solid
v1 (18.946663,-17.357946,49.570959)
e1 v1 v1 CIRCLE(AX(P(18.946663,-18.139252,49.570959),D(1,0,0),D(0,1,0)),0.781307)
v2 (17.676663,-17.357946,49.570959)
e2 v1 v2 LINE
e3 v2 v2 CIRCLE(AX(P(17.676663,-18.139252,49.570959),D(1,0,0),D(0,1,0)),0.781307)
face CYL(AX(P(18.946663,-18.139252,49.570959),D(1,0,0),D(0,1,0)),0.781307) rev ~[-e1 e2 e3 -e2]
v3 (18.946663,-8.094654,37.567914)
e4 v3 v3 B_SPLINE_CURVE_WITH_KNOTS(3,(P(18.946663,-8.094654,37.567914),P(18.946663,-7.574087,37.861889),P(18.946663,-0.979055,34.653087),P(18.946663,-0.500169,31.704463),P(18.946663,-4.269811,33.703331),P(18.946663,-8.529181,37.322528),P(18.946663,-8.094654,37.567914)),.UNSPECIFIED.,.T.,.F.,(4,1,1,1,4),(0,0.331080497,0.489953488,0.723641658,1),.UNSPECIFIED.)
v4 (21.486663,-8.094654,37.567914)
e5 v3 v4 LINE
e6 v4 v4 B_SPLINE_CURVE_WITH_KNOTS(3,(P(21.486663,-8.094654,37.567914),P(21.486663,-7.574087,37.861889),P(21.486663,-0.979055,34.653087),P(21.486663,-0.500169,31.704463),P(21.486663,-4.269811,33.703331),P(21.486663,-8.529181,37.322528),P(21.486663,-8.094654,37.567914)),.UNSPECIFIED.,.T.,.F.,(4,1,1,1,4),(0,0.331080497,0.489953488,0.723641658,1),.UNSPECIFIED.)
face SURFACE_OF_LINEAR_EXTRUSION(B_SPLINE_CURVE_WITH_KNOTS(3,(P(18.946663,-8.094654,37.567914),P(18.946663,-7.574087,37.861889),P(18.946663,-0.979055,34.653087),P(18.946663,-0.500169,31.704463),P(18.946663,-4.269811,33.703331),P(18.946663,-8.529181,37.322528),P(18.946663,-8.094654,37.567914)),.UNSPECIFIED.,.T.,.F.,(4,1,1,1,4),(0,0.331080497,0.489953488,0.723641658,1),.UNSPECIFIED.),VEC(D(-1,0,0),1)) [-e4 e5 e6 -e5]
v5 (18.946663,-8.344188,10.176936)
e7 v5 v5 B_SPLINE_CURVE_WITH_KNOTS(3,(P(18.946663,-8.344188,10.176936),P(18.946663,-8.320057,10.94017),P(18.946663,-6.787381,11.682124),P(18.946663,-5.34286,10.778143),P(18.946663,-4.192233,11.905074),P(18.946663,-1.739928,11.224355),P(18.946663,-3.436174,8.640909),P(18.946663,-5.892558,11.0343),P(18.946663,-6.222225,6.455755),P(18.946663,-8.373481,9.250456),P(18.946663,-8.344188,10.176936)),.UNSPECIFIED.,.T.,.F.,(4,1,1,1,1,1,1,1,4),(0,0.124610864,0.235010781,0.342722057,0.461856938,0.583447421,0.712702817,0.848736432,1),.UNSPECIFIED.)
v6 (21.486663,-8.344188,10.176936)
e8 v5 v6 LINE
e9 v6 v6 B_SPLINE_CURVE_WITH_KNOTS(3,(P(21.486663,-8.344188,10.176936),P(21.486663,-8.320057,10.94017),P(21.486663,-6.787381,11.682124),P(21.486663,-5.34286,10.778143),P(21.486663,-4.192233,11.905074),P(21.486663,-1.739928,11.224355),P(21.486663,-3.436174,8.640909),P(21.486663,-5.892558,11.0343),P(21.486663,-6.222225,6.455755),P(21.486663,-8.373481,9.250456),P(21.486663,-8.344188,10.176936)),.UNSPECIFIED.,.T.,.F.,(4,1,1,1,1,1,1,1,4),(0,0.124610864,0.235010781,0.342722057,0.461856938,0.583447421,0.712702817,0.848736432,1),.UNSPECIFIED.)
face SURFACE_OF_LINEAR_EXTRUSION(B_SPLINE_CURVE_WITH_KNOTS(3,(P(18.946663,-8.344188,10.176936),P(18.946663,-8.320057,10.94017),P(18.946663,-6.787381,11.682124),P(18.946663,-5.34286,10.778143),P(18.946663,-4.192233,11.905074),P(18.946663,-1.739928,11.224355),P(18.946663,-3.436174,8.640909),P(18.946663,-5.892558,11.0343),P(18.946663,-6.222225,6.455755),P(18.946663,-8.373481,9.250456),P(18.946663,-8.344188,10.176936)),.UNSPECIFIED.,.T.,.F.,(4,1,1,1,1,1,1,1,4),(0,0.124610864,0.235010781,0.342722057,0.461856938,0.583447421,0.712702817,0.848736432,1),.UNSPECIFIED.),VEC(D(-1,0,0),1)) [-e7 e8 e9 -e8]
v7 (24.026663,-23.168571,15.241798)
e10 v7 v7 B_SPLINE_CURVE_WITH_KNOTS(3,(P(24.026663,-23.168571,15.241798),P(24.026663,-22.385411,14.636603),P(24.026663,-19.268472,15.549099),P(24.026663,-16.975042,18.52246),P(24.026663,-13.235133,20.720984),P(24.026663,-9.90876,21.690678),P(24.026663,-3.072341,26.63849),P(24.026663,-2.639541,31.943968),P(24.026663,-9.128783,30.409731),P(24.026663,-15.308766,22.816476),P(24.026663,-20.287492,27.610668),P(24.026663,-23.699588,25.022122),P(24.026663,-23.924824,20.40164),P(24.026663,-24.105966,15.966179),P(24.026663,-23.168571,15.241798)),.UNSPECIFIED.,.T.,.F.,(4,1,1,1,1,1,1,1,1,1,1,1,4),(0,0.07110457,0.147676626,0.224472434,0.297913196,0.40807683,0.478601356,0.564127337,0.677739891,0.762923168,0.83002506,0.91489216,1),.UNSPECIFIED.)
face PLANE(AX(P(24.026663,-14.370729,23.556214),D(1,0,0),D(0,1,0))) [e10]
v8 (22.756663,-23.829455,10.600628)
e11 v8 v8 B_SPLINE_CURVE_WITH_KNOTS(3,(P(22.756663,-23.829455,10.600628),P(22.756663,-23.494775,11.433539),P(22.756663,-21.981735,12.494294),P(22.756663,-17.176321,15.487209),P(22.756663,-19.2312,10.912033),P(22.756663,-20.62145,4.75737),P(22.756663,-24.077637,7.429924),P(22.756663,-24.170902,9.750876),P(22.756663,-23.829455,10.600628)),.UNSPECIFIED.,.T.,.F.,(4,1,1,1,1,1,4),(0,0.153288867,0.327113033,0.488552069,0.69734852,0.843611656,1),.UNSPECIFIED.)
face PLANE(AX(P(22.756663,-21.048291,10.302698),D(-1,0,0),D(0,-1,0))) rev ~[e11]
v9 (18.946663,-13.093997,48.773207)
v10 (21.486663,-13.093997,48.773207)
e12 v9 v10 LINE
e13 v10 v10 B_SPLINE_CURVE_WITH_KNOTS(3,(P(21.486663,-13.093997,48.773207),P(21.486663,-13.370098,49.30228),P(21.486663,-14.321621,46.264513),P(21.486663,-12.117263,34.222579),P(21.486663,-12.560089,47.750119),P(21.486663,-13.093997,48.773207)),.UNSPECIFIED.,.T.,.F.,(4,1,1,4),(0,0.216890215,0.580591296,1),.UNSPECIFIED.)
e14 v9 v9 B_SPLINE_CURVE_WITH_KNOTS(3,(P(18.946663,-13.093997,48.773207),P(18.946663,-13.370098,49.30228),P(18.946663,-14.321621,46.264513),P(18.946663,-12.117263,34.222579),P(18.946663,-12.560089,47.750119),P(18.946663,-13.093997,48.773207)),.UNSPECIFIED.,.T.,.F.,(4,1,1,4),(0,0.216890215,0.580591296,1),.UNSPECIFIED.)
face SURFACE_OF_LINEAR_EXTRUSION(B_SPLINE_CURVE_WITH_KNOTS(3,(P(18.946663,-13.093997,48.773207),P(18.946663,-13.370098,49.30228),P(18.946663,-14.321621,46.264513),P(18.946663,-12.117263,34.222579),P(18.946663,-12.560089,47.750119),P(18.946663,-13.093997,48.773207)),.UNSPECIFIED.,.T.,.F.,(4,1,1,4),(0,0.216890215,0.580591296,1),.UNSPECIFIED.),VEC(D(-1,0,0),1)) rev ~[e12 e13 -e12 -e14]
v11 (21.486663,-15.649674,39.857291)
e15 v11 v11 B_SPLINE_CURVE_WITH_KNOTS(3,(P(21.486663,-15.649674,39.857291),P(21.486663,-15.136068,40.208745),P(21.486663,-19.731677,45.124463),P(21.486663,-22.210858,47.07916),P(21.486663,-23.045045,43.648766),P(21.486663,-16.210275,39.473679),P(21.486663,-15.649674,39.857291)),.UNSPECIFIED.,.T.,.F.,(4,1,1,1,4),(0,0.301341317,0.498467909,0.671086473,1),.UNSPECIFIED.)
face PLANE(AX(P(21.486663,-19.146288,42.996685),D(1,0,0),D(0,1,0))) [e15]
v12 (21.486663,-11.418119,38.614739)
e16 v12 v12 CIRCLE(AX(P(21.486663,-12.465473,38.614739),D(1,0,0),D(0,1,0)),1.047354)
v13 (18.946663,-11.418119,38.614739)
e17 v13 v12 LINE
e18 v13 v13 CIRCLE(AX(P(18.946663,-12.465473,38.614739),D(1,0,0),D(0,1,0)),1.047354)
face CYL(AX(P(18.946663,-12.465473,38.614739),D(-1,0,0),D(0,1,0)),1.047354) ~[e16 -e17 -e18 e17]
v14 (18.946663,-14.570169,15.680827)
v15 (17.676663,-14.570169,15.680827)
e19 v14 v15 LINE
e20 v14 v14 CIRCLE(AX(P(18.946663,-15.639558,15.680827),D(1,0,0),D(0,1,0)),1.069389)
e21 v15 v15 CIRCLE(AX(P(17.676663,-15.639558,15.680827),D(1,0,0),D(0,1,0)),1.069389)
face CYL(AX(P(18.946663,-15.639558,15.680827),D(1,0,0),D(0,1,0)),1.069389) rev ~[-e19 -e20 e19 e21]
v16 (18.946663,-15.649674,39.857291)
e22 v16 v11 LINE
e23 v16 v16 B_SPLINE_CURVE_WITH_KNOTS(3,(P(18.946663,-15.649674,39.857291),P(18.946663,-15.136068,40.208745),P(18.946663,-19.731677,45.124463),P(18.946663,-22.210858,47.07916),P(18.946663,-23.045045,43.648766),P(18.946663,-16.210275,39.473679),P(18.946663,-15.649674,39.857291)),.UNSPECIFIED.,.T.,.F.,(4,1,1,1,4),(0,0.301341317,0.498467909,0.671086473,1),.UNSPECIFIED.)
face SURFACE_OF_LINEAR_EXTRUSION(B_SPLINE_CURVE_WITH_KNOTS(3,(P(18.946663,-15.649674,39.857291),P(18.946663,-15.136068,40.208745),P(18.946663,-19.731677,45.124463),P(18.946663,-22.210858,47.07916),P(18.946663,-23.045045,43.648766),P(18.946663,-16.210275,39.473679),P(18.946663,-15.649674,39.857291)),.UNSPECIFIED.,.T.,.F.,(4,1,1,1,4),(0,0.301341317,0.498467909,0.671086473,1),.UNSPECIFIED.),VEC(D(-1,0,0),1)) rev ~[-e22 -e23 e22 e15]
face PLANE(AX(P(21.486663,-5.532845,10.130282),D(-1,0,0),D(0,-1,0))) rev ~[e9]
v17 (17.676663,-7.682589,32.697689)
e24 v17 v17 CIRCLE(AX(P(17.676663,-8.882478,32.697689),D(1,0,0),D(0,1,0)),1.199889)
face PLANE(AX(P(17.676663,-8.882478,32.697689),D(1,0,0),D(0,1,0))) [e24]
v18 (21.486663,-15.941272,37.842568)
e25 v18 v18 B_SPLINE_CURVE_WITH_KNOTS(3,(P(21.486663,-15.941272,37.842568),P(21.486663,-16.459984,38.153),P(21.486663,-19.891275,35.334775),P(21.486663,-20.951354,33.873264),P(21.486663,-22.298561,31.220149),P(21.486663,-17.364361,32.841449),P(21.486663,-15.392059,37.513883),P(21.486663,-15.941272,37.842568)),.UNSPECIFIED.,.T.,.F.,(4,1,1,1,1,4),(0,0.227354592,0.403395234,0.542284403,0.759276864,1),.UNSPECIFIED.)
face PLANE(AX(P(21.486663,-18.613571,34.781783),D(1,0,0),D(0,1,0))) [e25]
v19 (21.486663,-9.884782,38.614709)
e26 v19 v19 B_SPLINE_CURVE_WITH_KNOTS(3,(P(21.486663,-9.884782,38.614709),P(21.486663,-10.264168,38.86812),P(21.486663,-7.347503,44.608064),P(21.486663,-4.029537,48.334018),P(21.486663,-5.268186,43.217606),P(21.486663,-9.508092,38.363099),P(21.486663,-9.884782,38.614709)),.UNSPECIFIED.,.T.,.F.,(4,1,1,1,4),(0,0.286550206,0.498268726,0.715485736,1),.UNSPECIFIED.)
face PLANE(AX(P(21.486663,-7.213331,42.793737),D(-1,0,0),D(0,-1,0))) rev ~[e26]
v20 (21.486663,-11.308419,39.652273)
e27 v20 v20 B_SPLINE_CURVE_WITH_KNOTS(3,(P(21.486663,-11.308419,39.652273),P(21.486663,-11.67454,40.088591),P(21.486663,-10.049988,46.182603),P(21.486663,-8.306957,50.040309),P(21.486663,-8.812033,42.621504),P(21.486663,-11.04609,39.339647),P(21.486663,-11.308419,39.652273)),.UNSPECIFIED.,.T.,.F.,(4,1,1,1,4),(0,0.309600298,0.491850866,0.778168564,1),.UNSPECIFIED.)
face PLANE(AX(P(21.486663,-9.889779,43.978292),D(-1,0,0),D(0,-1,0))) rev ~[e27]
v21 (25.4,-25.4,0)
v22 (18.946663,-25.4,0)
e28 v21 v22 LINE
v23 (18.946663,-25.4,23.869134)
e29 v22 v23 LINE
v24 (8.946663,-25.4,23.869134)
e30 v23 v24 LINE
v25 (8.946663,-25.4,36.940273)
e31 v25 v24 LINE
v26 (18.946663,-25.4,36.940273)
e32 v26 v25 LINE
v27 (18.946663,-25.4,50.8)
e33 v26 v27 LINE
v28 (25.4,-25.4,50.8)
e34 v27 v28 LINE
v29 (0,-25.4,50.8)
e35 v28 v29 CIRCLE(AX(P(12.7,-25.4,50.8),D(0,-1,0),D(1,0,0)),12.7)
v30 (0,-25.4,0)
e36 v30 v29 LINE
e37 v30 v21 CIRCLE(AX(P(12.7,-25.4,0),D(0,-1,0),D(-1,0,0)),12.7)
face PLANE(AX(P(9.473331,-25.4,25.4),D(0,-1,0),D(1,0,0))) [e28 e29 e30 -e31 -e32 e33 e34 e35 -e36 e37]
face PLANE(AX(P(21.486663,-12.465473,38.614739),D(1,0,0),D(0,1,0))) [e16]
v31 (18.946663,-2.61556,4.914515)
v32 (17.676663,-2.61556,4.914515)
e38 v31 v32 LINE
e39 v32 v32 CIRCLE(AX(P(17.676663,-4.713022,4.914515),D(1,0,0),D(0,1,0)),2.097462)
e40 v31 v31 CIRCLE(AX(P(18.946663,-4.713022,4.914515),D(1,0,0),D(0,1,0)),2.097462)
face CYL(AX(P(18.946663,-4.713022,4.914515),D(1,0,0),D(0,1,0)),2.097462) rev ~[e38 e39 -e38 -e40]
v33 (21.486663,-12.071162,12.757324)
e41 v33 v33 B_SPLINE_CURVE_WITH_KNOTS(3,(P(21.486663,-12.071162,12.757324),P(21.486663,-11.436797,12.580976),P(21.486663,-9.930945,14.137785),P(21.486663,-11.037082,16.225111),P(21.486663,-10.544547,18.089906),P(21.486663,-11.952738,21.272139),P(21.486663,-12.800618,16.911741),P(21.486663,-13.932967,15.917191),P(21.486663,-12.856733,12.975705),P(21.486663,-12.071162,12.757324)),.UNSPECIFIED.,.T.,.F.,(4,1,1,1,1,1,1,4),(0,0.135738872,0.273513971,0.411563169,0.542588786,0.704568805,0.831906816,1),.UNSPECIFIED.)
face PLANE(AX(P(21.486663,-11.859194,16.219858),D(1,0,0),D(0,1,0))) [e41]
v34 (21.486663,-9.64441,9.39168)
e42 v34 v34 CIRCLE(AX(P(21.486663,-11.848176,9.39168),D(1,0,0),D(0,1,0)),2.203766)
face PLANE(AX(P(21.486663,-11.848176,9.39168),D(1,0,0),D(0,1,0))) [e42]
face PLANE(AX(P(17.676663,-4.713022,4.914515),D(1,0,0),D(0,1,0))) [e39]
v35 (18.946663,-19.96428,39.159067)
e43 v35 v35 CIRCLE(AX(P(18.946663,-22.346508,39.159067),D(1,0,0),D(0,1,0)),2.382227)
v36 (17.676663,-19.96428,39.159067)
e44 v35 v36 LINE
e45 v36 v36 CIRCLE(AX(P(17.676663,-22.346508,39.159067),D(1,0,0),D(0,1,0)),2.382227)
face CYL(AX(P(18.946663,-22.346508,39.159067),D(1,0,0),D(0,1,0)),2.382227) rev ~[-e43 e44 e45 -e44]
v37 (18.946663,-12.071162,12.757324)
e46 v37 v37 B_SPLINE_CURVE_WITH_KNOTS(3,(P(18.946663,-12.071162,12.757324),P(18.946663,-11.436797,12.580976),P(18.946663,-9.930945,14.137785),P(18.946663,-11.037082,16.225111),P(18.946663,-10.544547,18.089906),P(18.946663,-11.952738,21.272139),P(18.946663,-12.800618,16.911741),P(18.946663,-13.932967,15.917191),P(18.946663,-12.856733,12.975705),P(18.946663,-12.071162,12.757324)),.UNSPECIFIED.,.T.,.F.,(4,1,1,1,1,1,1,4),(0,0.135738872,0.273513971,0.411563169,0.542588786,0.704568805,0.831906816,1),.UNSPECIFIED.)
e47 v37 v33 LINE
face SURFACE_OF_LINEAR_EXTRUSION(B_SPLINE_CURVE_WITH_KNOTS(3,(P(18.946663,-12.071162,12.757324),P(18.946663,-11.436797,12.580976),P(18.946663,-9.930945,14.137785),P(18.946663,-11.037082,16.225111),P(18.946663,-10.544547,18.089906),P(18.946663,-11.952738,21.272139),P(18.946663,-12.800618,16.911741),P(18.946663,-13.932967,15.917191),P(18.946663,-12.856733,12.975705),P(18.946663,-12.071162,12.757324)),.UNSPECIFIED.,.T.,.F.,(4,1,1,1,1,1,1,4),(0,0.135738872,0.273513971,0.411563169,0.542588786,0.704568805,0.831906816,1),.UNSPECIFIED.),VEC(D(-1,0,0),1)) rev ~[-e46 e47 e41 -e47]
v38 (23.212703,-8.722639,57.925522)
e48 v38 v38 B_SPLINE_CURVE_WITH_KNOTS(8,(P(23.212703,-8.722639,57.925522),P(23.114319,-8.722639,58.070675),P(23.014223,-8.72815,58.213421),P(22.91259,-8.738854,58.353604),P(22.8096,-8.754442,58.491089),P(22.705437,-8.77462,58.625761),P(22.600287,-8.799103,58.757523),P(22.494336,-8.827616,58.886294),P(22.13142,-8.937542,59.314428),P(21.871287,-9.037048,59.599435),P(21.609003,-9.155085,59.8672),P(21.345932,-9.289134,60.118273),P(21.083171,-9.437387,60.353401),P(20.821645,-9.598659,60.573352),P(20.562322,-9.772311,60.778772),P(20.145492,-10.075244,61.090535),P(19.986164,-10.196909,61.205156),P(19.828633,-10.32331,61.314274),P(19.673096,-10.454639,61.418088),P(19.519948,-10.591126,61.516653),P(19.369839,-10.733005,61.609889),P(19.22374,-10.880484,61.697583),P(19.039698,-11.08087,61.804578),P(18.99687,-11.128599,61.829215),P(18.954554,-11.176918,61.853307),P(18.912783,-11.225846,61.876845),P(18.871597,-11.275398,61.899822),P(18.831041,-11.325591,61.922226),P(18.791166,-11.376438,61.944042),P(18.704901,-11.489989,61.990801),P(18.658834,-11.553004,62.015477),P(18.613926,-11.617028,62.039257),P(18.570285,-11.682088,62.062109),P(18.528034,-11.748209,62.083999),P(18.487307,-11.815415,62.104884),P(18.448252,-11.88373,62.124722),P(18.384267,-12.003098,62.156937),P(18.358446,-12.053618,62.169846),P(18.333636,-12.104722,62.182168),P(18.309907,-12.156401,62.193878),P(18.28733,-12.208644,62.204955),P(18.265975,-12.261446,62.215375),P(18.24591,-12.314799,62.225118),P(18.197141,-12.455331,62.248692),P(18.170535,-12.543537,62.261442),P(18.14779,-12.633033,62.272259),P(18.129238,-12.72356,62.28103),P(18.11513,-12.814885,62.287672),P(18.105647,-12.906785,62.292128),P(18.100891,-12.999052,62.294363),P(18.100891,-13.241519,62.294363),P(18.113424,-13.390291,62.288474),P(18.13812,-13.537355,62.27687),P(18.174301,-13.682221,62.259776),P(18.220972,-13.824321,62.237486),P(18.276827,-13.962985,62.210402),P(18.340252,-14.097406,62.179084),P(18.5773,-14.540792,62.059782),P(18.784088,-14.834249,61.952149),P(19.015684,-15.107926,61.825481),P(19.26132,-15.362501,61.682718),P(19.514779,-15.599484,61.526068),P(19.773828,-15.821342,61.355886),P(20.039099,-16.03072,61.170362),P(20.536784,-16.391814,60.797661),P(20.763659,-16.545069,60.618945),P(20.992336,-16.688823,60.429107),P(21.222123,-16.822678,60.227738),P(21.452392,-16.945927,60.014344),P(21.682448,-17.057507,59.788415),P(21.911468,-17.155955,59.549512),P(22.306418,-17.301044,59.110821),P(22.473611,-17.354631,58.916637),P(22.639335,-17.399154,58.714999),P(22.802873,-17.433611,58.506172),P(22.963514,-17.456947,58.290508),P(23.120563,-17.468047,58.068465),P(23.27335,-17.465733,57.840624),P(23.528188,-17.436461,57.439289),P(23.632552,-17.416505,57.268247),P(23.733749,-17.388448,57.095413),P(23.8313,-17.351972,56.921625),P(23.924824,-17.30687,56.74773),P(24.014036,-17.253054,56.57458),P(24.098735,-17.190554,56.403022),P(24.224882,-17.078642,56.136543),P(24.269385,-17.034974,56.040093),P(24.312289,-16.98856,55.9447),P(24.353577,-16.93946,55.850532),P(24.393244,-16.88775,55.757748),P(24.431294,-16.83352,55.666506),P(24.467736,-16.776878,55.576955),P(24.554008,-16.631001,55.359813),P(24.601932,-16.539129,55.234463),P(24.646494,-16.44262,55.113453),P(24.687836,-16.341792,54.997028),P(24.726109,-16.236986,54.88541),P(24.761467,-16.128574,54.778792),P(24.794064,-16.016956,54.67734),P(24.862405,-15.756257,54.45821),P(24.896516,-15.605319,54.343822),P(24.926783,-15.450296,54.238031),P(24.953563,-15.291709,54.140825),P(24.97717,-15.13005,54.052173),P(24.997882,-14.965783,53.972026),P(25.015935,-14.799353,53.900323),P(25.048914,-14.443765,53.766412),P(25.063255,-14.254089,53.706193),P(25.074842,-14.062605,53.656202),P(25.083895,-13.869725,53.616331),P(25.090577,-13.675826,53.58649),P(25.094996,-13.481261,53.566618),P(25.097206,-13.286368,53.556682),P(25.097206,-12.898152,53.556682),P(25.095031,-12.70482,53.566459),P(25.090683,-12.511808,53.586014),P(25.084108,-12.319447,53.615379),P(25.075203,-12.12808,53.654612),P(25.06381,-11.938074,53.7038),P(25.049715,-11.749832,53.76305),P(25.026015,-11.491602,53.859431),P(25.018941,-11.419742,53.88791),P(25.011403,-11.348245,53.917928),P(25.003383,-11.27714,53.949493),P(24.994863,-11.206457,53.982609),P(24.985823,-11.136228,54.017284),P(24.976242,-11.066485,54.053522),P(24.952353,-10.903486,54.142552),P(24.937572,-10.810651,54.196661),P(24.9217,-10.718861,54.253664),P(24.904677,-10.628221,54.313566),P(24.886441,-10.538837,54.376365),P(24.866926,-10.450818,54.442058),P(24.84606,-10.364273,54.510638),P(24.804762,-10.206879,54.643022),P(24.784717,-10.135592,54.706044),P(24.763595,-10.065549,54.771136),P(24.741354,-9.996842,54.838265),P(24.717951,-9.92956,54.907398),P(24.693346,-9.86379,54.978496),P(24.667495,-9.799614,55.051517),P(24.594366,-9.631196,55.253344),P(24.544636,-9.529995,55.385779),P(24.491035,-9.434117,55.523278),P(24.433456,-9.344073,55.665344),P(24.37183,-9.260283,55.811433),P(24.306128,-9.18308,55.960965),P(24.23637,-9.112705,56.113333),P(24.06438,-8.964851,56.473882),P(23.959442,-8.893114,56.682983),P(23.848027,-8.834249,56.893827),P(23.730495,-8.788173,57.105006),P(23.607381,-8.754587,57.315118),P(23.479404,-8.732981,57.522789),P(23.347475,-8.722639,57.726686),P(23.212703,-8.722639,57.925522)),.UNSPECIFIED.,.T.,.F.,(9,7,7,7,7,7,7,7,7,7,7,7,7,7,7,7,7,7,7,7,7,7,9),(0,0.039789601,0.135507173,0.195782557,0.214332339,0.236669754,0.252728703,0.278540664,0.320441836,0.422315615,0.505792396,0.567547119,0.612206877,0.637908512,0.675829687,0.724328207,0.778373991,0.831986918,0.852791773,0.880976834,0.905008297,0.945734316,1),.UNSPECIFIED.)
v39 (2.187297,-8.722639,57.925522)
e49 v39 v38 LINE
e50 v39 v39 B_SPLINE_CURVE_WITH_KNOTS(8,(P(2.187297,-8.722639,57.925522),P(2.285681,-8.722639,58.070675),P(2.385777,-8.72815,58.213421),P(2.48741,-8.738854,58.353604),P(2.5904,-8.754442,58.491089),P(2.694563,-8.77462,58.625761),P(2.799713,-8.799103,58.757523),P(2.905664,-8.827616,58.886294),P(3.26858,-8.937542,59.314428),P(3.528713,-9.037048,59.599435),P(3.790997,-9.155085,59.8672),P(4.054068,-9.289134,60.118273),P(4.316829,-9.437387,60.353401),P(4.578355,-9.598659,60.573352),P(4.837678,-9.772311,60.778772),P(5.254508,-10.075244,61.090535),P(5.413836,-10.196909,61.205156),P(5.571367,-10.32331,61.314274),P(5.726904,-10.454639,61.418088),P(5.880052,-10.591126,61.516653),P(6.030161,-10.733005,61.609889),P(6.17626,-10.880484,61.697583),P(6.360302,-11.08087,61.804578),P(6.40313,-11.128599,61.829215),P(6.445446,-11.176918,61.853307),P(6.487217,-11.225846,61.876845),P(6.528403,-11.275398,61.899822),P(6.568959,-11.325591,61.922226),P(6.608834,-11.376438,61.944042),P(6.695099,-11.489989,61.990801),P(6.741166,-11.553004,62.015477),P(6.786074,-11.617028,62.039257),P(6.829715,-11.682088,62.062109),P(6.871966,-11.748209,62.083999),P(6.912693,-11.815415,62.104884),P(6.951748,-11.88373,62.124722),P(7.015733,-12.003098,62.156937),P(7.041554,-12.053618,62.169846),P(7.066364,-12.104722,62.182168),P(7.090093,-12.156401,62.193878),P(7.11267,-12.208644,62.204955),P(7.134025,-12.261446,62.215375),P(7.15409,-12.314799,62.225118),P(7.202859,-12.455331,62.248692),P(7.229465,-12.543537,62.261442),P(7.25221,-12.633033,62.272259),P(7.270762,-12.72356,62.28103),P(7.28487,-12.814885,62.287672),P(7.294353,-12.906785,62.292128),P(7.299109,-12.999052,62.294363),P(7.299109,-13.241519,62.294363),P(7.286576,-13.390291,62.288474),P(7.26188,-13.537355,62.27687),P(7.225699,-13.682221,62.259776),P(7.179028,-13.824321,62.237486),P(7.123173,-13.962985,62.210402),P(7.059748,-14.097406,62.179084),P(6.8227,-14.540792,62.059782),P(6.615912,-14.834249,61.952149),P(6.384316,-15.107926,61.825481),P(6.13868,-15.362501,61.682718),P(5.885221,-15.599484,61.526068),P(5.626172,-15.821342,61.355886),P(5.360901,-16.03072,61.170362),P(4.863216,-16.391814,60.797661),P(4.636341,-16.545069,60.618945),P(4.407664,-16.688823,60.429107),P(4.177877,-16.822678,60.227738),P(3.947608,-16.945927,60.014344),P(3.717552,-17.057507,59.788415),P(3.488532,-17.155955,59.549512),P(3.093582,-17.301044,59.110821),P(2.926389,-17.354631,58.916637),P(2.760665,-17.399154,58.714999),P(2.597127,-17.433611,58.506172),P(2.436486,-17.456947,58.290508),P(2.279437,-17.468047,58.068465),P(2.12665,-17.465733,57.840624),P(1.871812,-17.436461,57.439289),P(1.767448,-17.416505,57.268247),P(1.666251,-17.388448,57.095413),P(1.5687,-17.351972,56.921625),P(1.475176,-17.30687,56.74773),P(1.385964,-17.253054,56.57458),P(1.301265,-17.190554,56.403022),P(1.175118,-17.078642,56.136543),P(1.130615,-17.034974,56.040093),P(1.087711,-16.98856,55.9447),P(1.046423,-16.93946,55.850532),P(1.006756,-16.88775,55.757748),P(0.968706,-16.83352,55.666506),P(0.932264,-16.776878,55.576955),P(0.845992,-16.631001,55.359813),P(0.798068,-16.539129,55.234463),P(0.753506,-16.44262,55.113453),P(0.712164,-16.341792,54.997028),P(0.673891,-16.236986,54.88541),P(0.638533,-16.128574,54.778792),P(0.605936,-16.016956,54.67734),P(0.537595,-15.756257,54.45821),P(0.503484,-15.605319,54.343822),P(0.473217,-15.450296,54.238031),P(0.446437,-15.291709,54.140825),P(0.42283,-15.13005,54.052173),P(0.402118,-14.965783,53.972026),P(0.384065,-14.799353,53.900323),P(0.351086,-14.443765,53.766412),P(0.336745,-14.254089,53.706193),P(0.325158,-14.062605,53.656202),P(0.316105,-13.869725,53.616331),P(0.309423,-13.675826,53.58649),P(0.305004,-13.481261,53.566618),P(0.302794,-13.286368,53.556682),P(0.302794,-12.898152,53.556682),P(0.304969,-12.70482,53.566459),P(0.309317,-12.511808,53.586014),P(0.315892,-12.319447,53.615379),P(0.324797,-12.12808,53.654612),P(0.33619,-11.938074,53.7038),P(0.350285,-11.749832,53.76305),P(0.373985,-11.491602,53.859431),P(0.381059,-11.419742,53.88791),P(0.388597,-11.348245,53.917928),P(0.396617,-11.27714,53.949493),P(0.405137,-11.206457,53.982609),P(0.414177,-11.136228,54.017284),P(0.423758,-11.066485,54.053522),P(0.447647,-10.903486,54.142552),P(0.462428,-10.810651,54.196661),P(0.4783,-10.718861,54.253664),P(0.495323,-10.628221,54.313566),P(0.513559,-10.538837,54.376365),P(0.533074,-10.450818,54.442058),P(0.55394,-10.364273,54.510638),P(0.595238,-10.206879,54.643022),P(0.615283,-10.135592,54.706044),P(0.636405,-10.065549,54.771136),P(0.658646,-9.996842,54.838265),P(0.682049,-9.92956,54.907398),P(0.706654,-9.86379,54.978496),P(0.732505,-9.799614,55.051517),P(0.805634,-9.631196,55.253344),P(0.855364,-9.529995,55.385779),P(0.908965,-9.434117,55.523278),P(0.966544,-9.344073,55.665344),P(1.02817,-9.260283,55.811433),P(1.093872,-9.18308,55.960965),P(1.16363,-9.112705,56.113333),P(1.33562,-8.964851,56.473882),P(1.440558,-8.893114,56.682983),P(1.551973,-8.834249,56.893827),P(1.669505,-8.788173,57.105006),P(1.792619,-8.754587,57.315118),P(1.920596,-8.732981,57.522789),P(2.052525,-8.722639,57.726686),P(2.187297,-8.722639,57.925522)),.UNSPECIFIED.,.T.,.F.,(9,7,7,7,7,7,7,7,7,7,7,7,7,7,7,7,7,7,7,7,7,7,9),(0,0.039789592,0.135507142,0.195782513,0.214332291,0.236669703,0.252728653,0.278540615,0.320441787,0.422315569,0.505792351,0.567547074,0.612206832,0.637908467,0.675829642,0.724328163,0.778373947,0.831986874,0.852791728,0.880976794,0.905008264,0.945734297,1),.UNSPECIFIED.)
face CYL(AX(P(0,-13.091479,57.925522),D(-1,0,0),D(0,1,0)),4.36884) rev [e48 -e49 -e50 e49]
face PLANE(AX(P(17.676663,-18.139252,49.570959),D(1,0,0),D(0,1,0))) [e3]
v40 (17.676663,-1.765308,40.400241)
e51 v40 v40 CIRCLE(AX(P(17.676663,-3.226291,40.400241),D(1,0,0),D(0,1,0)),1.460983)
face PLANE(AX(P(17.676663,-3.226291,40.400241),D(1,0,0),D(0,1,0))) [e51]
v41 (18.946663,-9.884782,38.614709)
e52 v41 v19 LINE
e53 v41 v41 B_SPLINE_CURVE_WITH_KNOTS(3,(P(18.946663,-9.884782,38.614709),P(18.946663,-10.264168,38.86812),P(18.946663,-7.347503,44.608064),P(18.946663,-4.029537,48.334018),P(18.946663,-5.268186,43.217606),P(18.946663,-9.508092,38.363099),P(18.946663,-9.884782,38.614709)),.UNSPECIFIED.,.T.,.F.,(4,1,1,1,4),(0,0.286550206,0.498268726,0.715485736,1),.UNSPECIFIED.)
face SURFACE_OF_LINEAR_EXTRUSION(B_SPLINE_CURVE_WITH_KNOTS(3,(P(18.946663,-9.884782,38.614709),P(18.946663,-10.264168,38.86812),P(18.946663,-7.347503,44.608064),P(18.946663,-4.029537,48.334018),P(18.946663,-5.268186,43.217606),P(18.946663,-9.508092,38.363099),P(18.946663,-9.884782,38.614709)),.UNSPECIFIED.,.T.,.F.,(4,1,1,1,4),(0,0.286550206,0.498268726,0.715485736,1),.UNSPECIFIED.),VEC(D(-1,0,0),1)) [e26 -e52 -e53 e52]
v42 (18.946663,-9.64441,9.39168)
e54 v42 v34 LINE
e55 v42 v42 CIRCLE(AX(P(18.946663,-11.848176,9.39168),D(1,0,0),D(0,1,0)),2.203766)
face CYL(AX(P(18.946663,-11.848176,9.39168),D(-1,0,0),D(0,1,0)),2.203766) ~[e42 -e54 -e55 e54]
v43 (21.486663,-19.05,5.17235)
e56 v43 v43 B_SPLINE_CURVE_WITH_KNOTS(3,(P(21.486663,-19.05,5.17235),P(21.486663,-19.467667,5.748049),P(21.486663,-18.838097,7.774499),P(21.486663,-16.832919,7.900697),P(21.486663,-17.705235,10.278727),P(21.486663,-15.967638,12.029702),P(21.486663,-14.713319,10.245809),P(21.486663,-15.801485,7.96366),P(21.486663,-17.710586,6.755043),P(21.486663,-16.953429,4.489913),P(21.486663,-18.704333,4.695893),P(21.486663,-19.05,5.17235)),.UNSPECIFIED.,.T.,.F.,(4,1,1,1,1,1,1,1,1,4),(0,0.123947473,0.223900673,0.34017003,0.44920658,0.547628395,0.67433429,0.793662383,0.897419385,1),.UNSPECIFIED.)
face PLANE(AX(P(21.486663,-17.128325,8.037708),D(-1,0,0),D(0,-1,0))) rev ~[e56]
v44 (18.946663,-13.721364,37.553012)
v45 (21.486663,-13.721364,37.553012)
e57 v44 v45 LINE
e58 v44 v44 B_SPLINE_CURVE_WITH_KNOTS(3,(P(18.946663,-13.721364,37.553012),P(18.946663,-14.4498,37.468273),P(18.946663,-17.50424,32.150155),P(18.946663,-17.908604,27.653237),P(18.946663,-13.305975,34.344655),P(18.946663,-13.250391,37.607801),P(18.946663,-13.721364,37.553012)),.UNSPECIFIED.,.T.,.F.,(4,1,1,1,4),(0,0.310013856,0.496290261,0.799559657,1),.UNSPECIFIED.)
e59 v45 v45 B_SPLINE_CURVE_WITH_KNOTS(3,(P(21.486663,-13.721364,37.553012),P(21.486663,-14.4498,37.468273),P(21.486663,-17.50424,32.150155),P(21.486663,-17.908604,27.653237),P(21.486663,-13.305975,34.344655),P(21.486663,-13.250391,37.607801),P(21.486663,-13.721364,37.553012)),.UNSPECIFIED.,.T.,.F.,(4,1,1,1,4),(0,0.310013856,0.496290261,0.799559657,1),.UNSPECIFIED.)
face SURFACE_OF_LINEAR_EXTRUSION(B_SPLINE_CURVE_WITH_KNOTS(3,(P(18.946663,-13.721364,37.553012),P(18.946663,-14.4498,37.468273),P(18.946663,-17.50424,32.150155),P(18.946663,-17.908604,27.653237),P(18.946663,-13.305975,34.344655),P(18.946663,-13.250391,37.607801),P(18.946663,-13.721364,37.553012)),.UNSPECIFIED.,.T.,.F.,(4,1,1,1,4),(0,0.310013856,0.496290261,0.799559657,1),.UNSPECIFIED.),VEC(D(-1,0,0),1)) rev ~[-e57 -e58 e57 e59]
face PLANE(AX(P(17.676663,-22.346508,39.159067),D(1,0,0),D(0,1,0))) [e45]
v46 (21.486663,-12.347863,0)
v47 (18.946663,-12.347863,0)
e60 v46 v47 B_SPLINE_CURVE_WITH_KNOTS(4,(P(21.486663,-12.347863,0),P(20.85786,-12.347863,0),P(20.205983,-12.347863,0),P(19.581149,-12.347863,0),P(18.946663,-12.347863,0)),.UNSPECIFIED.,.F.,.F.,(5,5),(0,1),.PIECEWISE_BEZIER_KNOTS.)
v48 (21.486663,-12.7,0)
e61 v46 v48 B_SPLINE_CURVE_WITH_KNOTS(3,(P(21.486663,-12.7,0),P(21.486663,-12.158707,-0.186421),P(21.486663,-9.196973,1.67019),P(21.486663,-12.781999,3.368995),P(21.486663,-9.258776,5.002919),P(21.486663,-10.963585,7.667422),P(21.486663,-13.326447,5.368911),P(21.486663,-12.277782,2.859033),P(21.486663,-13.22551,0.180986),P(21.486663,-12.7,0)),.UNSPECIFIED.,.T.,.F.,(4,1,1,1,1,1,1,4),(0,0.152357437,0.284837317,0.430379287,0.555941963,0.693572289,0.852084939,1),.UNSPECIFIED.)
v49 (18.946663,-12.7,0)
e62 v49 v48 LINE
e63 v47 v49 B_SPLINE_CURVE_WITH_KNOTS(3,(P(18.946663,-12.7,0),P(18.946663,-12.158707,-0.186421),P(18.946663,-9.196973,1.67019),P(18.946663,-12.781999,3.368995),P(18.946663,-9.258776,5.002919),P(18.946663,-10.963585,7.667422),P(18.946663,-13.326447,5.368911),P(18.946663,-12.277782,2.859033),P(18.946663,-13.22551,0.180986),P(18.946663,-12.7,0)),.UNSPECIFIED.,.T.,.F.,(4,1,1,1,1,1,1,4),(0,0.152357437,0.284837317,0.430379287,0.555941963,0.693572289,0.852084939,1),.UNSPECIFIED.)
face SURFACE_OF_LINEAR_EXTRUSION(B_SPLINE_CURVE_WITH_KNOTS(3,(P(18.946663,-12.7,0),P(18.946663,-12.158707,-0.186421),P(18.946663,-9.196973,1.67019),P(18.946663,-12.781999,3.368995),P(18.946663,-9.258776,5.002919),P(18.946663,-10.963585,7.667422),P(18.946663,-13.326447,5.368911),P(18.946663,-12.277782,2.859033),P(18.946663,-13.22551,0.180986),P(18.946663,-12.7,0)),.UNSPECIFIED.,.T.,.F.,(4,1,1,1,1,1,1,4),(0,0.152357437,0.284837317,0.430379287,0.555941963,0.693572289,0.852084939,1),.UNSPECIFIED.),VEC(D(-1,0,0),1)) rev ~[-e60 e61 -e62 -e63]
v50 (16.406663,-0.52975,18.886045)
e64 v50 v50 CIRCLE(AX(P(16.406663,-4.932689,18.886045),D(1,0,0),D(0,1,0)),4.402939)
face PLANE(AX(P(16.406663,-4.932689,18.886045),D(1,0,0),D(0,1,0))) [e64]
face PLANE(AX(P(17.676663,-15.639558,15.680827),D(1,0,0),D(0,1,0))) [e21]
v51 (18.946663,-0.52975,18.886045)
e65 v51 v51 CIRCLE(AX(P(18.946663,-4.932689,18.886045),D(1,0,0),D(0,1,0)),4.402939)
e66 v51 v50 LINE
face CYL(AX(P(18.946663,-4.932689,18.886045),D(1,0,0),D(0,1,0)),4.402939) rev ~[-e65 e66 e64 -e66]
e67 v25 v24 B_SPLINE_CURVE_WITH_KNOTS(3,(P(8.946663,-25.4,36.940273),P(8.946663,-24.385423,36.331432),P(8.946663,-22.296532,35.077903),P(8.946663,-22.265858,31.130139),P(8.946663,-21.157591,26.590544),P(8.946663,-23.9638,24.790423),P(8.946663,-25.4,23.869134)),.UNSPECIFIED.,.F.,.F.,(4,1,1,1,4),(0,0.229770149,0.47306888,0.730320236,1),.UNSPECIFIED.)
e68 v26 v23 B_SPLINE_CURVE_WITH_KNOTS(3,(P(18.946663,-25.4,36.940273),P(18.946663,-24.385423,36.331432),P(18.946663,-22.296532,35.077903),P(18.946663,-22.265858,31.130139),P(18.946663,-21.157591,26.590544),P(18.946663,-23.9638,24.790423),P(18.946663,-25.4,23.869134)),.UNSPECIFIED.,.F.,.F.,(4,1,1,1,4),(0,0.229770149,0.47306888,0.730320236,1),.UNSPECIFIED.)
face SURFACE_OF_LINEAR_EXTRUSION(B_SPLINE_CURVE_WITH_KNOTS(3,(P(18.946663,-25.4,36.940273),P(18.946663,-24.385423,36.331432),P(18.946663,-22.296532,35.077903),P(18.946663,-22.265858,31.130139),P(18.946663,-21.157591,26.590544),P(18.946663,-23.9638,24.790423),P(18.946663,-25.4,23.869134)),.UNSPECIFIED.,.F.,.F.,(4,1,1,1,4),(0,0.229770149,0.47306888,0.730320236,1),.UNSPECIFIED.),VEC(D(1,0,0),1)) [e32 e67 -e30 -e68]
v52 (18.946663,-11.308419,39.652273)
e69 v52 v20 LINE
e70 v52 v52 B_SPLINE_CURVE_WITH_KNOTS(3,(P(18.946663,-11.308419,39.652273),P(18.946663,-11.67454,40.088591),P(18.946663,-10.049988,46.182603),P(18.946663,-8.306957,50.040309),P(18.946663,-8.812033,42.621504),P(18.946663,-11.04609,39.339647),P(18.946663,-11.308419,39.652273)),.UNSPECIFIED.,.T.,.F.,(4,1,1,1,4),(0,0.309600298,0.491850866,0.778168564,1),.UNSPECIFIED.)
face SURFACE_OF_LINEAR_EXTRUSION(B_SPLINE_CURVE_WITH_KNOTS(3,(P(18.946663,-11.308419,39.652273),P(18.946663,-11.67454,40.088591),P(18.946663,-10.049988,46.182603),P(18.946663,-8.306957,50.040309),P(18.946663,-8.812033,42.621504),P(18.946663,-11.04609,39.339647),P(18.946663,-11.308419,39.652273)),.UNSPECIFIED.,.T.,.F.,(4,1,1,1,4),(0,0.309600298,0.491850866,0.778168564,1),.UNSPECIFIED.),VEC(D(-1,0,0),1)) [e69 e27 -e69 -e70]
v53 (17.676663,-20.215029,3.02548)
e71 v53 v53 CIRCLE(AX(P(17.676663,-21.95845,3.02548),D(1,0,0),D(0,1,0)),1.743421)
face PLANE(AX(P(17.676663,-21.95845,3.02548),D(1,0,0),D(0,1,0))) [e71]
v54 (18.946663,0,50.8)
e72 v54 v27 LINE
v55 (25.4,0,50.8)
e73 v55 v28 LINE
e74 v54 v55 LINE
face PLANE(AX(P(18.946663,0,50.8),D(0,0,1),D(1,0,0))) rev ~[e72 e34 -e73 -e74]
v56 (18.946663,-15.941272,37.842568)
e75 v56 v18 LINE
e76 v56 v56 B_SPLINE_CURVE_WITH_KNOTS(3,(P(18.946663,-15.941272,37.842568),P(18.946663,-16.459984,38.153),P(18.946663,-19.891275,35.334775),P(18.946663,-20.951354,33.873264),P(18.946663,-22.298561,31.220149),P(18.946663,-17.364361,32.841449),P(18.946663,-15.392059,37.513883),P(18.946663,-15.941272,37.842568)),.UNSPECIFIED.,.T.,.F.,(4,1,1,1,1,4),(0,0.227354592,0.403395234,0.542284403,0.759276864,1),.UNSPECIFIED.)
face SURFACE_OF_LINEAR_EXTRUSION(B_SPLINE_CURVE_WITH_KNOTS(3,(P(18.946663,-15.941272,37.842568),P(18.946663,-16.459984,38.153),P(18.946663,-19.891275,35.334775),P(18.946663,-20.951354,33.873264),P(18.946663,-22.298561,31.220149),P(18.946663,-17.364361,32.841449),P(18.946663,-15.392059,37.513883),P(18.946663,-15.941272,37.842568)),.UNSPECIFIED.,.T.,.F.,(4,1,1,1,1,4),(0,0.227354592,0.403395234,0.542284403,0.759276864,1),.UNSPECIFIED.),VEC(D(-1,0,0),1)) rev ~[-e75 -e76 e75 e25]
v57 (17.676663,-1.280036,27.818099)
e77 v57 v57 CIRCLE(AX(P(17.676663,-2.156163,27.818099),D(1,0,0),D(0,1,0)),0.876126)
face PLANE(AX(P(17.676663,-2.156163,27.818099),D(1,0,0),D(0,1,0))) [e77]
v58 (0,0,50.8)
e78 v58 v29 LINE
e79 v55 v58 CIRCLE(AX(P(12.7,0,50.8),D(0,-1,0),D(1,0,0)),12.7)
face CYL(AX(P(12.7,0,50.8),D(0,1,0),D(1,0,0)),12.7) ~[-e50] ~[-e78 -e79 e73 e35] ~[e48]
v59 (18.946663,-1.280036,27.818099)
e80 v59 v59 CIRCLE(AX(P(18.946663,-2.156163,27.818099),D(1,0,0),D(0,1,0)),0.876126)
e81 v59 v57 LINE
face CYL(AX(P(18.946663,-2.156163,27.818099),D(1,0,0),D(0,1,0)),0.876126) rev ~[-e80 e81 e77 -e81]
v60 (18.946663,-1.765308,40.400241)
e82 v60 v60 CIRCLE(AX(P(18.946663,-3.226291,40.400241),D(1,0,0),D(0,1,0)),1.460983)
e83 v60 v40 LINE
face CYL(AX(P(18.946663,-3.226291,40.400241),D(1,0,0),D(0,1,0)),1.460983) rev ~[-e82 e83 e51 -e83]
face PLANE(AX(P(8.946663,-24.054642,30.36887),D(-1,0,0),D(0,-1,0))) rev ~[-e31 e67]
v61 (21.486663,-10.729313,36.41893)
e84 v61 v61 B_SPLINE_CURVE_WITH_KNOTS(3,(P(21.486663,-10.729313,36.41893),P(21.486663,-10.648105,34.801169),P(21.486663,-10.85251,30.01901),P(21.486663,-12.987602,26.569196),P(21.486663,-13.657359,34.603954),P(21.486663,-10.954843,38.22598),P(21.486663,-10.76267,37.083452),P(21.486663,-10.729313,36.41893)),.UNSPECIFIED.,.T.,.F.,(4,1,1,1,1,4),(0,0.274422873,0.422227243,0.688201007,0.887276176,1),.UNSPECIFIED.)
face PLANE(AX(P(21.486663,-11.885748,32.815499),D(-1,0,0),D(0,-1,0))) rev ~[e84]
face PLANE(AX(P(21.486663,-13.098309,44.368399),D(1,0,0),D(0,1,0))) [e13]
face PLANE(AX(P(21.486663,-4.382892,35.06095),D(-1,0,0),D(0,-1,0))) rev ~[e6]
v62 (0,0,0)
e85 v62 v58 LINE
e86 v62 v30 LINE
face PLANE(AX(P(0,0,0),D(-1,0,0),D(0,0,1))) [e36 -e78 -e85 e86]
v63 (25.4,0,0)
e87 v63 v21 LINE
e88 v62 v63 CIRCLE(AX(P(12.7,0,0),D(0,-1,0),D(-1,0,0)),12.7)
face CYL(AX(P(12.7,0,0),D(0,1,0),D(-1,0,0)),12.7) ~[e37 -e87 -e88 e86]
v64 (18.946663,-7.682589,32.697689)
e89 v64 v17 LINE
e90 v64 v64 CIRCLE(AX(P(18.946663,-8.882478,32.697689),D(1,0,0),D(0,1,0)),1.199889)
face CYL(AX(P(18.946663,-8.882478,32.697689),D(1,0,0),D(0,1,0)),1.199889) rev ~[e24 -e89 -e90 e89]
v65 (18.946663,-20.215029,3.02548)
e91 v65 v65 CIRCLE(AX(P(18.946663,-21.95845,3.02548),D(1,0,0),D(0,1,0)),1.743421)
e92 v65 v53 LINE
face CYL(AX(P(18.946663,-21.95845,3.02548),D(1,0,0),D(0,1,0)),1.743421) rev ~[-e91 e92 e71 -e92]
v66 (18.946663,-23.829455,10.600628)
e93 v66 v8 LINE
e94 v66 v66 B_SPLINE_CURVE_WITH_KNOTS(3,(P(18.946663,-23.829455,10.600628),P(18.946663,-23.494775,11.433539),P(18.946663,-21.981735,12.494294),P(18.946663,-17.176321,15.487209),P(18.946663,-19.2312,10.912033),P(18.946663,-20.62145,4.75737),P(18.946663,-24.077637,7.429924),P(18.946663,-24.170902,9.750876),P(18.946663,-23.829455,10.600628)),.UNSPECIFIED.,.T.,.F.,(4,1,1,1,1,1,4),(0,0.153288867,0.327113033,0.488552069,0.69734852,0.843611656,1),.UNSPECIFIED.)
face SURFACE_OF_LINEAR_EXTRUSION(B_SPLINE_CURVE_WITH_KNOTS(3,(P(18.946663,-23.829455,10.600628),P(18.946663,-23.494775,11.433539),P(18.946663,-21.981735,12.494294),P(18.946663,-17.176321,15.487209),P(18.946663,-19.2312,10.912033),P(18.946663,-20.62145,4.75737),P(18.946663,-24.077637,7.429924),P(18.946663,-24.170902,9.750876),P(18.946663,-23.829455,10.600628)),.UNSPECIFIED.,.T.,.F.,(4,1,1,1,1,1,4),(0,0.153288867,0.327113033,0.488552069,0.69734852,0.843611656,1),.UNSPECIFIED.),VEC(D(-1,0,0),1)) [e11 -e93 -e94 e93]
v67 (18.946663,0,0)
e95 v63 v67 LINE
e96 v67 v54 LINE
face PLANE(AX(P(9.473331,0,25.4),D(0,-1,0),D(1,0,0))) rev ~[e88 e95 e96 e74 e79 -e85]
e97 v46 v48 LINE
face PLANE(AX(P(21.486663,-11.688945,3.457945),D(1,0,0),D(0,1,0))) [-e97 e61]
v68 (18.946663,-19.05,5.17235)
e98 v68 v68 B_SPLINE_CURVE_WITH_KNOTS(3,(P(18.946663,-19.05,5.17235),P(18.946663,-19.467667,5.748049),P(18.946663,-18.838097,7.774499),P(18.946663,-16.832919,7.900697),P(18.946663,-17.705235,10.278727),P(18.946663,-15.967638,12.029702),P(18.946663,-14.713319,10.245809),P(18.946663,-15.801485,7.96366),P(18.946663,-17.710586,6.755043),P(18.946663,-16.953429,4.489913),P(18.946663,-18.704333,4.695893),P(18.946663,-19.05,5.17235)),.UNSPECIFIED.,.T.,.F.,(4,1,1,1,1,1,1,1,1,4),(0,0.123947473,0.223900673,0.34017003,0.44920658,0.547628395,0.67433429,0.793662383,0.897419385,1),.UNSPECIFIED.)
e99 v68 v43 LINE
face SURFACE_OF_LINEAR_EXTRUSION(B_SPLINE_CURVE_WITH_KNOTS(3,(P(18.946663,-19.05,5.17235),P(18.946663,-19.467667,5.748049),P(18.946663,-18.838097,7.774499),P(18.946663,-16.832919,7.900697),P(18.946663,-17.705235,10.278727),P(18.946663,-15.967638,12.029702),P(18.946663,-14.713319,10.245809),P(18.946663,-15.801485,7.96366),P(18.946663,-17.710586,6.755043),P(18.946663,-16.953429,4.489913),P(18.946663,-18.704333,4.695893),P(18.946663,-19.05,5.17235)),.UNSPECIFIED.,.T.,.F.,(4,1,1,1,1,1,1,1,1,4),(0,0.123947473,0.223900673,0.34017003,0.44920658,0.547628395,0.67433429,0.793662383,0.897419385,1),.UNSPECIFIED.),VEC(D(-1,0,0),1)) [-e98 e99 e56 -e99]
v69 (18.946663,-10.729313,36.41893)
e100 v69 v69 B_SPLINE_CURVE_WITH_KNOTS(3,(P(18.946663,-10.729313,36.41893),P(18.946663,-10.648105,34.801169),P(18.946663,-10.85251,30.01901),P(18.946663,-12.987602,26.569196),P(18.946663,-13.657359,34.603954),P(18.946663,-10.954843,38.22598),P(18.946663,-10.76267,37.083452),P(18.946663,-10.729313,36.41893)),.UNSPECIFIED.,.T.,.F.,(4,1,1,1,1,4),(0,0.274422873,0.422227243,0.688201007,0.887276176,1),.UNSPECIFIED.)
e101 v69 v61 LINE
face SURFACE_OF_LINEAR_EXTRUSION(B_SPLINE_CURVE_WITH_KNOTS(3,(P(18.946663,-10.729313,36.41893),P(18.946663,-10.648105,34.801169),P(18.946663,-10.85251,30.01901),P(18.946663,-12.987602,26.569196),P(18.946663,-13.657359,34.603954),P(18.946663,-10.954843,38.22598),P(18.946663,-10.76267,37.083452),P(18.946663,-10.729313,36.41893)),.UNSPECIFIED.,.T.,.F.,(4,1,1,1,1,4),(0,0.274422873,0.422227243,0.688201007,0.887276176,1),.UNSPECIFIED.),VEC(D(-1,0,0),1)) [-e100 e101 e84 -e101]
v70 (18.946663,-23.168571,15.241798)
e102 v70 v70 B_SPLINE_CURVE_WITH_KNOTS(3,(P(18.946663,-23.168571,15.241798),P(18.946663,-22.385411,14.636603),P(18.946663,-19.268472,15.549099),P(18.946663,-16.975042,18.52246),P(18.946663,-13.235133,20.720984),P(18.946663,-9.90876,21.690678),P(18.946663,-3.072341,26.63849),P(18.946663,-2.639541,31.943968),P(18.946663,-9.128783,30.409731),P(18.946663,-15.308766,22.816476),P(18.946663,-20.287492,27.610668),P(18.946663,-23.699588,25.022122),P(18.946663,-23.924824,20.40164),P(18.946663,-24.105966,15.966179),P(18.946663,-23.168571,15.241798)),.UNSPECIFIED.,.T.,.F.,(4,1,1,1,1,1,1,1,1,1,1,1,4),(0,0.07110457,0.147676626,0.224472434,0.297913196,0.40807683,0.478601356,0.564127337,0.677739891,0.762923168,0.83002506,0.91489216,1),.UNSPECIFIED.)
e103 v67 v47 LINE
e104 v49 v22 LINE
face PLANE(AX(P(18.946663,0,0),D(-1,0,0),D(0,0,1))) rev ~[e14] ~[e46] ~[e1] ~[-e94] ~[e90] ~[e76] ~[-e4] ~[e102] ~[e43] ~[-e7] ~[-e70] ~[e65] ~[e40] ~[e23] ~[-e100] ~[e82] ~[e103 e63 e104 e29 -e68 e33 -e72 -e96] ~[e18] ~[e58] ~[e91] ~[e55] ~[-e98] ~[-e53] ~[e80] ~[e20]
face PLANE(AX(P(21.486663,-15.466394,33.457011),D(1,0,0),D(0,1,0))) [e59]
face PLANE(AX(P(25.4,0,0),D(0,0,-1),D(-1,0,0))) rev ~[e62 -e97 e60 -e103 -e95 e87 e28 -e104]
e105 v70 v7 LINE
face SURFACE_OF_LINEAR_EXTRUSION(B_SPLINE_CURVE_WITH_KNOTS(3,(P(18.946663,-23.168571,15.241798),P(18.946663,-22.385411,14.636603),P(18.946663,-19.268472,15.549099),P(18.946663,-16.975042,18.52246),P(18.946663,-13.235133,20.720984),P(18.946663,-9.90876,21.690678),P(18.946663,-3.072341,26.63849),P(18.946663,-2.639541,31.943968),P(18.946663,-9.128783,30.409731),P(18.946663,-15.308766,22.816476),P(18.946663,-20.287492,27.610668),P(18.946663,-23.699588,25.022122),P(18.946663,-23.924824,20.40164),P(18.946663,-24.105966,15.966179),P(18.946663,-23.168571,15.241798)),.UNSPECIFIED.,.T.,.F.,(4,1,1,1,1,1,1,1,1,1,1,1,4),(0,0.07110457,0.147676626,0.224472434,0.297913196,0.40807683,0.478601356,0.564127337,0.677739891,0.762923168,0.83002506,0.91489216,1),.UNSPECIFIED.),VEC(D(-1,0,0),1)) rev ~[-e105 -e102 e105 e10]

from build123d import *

# Parameters (mm, degrees)
F0_W      = 18.9466625452
F0_H      = 50.8
F1_DEPTH  = 25.4
F3_DEPTH  = 2.54
F5_DEPTH  = 2.54
F7_DEPTH  = 2.54
F9_DEPTH  = 2.54
F10_R     = 2.2037661108
F11_DEPTH = 2.54
F13_DEPTH = 2.54
F14_R     = 1.0473543245
F15_DEPTH = 2.54
F16_R     = 4.4029393082
F17_DEPTH = 2.54
F19_DEPTH = 5.08
F21_DEPTH = 3.81
F22_R     = 1.460983402
F22_R_2   = 0.8761261726
F22_R_3   = 1.1998887947
F22_R_4   = 2.3822273237
F22_R_5   = 0.7813065252
F22_R_6   = 1.0693889774
F22_R_7   = 2.0974618181
F22_R_8   = 1.7434208878
F23_DEPTH = 1.27
F25_DEPTH = 10
F26_R     = 4.1855782258
F27_DEPTH = 30
F28_R     = 4.3688404115
F29_DEPTH = 30


with BuildPart() as f1:
    # F0 (on Front) → F1 (new body)
    with BuildSketch(Plane.XZ):
        with Locations((9.4733312726, 25.4)):
            Rectangle(F0_W, F0_H)
        with BuildLine():
            ThreePointArc((25.4, 50.8), (12.7, 63.5), (0, 50.8))
            Line((0, 50.8), (18.9466625452, 50.8))
            Line((18.9466625452, 50.8), (25.4, 50.8))
        make_face()
        with BuildLine():
            Line((18.9466625452, 0), (0, 0))
            ThreePointArc((0, 0), (12.7, -12.7), (25.4, 0))
            Line((25.4, 0), (18.9466625452, 0))
        make_face()
    extrude(amount=F1_DEPTH)

    # F2 (on face) → F3 (join)
    with BuildSketch(Plane.YZ.offset(18.9466625452)):
        with BuildLine():
            add(Edge.make_bspline(
                [(-12.7, 0), (-12.1587068574, -0.186421223), (-9.1969725356, 1.6701898847), (-12.7819987666, 3.3689946826), (-9.2587764915, 5.0029186659), (-10.9635852494, 7.6674219674), (-13.3264466897, 5.3689109873), (-12.2777824387, 2.859032607), (-13.2255103376, 0.1809856289), (-12.7, 0)],
                knots=[0, 0, 0, 0, 0.1523574371, 0.2848373169, 0.4303792872, 0.5559419632, 0.6935722887, 0.852084939, 1, 1, 1, 1], degree=3))
        make_face()
    extrude(amount=F3_DEPTH)

    # F4 (on face) → F5 (join)
    with BuildSketch(Plane.YZ.offset(18.9466625452)):
        with BuildLine():
            add(Edge.make_bspline(
                [(-19.05, 5.1723495126), (-19.4676667532, 5.7480486345), (-18.8380971455, 7.7744991793), (-16.8329186801, 7.9006968747), (-17.7052345676, 10.2787269645), (-15.9676377207, 12.0297018569), (-14.713319284, 10.2458093106), (-15.8014853333, 7.9636604801), (-17.7105856123, 6.7550427596), (-16.9534289215, 4.4899133227), (-18.7043333124, 4.6958930865), (-19.05, 5.1723495126)],
                knots=[0, 0, 0, 0, 0.1239474728, 0.2239006727, 0.3401700303, 0.4492065796, 0.5476283947, 0.67433429, 0.7936623829, 0.8974193852, 1, 1, 1, 1], degree=3))
        make_face()
    extrude(amount=F5_DEPTH)

    # F6 (on face) → F7 (join)
    with BuildSketch(Plane.YZ.offset(18.9466625452)):
        with BuildLine():
            add(Edge.make_bspline(
                [(-12.0711624622, 12.7573236823), (-11.4367969336, 12.5809759526), (-9.930944509, 14.1377853484), (-11.0370818754, 16.2251107005), (-10.5445469328, 18.0899061765), (-11.9527375102, 21.2721387382), (-12.800618147, 16.9117405663), (-13.9329669541, 15.9171914125), (-12.8567334616, 12.9757051296), (-12.0711624622, 12.7573236823)],
                knots=[0, 0, 0, 0, 0.1357388721, 0.273513971, 0.4115631689, 0.5425887856, 0.7045688045, 0.8319068162, 1, 1, 1, 1], degree=3))
        make_face()
    extrude(amount=F7_DEPTH)

    # F8 (on face) → F9 (join)
    with BuildSketch(Plane.YZ.offset(18.9466625452)):
        with BuildLine():
            add(Edge.make_bspline(
                [(-8.3441883326, 10.1769361645), (-8.320056966, 10.9401703438), (-6.7873812738, 11.6821238495), (-5.342859624, 10.7781428021), (-4.1922333759, 11.9050739461), (-1.7399280852, 11.2243552708), (-3.4361736571, 8.6409088637), (-5.8925577474, 11.0342997762), (-6.2222248998, 6.4557549482), (-8.3734810962, 9.2504557541), (-8.3441883326, 10.1769361645)],
                knots=[0, 0, 0, 0, 0.1246108644, 0.2350107813, 0.3427220566, 0.461856938, 0.5834474213, 0.7127028173, 0.8487364325, 1, 1, 1, 1], degree=3))
        make_face()
    extrude(amount=F9_DEPTH)

    # F10 (on face) → F11 (join)
    with BuildSketch(Plane.YZ.offset(18.9466625452)):
        with Locations((-11.8481758982, 9.3916803598)):
            Circle(F10_R)
    extrude(amount=F11_DEPTH)

    # F12 (on face) → F13 (join)
    with BuildSketch(Plane.YZ.offset(18.9466625452)):
        with BuildLine():
            add(Edge.make_bspline(
                [(-15.9412715584, 37.8425680101), (-16.4599835343, 38.1529996788), (-19.891275436, 35.3347747815), (-20.9513538421, 33.8732644194), (-22.298560563, 31.2201488002), (-17.3643612808, 32.8414492587), (-15.3920591024, 37.51388283), (-15.9412715584, 37.8425680101)],
                knots=[0, 0, 0, 0, 0.2273545918, 0.403395234, 0.5422844026, 0.7592768635, 1, 1, 1, 1], degree=3))
        make_face()
        with BuildLine():
            add(Edge.make_bspline(
                [(-15.6496744603, 39.8572906852), (-15.1360683338, 40.208744889), (-19.7316768365, 45.124463423), (-22.2108583757, 47.079159636), (-23.0450446539, 43.6487662378), (-16.2102746602, 39.4736790287), (-15.6496744603, 39.8572906852)],
                knots=[0, 0, 0, 0, 0.3013413171, 0.4984679094, 0.6710864729, 1, 1, 1, 1], degree=3))
        make_face()
        with BuildLine():
            add(Edge.make_bspline(
                [(-13.093996793, 48.7732067704), (-13.3700980694, 49.3022797668), (-14.3216212376, 46.2645126057), (-12.1172625697, 34.2225792128), (-12.5600894495, 47.7501185698), (-13.093996793, 48.7732067704)],
                knots=[0, 0, 0, 0, 0.2168902151, 0.5805912956, 1, 1, 1, 1], degree=3))
        make_face()
        with BuildLine():
            add(Edge.make_bspline(
                [(-11.3084185869, 39.6522730589), (-11.6745395246, 40.0885909503), (-10.0499884165, 46.1826032552), (-8.3069572408, 50.0403093232), (-8.8120334679, 42.6215044235), (-11.0460895976, 39.3396473126), (-11.3084185869, 39.6522730589)],
                knots=[0, 0, 0, 0, 0.3096002981, 0.4918508665, 0.7781685643, 1, 1, 1, 1], degree=3))
        make_face()
        with BuildLine():
            add(Edge.make_bspline(
                [(-9.8847821355, 38.6147089303), (-10.2641676442, 38.8681195069), (-7.3475032709, 44.6080636696), (-4.0295370076, 48.3340183153), (-5.2681860616, 43.2176057853), (-9.5080921651, 38.3630988386), (-9.8847821355, 38.6147089303)],
                knots=[0, 0, 0, 0, 0.2865502063, 0.4982687259, 0.7154857362, 1, 1, 1, 1], degree=3))
        make_face()
        with BuildLine():
            add(Edge.make_bspline(
                [(-8.0946544185, 37.5679135323), (-7.5740868469, 37.8618887854), (-0.9790549856, 34.6530871044), (-0.5001687291, 31.7044634891), (-4.2698106136, 33.7033312857), (-8.5291807406, 37.3225275488), (-8.0946544185, 37.5679135323)],
                knots=[0, 0, 0, 0, 0.3310804974, 0.4899534876, 0.7236416582, 1, 1, 1, 1], degree=3))
        make_face()
        with BuildLine():
            add(Edge.make_bspline(
                [(-10.7293128967, 36.4189296961), (-10.6481049738, 34.8011686243), (-10.8525102266, 30.0190099959), (-12.9876015825, 26.5691960414), (-13.6573586062, 34.6039540936), (-10.9548430259, 38.2259802602), (-10.762670421, 37.0834523465), (-10.7293128967, 36.4189296961)],
                knots=[0, 0, 0, 0, 0.2744228725, 0.4222272432, 0.6882010074, 0.8872761759, 1, 1, 1, 1], degree=3))
        make_face()
        with BuildLine():
            add(Edge.make_bspline(
                [(-13.721363619, 37.5530123711), (-14.4497998914, 37.4682734483), (-17.5042396654, 32.1501550566), (-17.9086044815, 27.653236669), (-13.3059752224, 34.3446549325), (-13.2503910693, 37.6078005633), (-13.721363619, 37.5530123711)],
                knots=[0, 0, 0, 0, 0.3100138558, 0.4962902609, 0.7995596572, 1, 1, 1, 1], degree=3))
        make_face()
    extrude(amount=F13_DEPTH)

    # F14 (on face) → F15 (join)
    with BuildSketch(Plane.YZ.offset(18.9466625452)):
        with Locations((-12.4654732645, 38.6147387326)):
            Circle(F14_R)
    extrude(amount=F15_DEPTH)

    # F16 (on face) → F17 (cut)
    with BuildSketch(Plane.YZ.offset(18.9466625452)):
        with Locations((-4.9326894805, 18.8860446215)):
            Circle(F16_R)
    extrude(amount=-F17_DEPTH, mode=Mode.SUBTRACT)

    # F18 (on face) → F19 (join)
    with BuildSketch(Plane.YZ.offset(18.9466625452)):
        with BuildLine():
            add(Edge.make_bspline(
                [(-23.1685712934, 15.2417980134), (-22.3854114778, 14.6366031784), (-19.2684715864, 15.5490991832), (-16.9750424784, 18.5224602193), (-13.2351329617, 20.7209840815), (-9.9087599587, 21.6906775308), (-3.0723412858, 26.6384901245), (-2.6395408303, 31.9439683504), (-9.1287825512, 30.4097311386), (-15.3087659566, 22.8164756622), (-20.2874916771, 27.6106681471), (-23.6995879494, 25.0221215813), (-23.9248238363, 20.4016395773), (-24.1059658959, 15.9661793729), (-23.1685712934, 15.2417980134)],
                knots=[0, 0, 0, 0, 0.0711045703, 0.1476766262, 0.2244724336, 0.2979131955, 0.4080768304, 0.4786013556, 0.5641273371, 0.6777398914, 0.7629231677, 0.8300250604, 0.9148921598, 1, 1, 1, 1], degree=3))
        make_face()
    extrude(amount=F19_DEPTH)

    # F20 (on face) → F21 (join)
    with BuildSketch(Plane.YZ.offset(18.9466625452)):
        with BuildLine():
            add(Edge.make_bspline(
                [(-23.8294545561, 10.6006283313), (-23.4947747744, 11.4335393387), (-21.981735164, 12.4942936977), (-17.1763212025, 15.4872094726), (-19.2311995145, 10.912032711), (-20.621450181, 4.7573700994), (-24.0776370889, 7.4299235), (-24.1709015099, 9.7508759954), (-23.8294545561, 10.6006283313)],
                knots=[0, 0, 0, 0, 0.1532888673, 0.3271130329, 0.4885520691, 0.6973485205, 0.8436116561, 1, 1, 1, 1], degree=3))
        make_face()
    extrude(amount=F21_DEPTH)

    # F22 (on face) → F23 (cut)
    with BuildSketch(Plane.YZ.offset(18.9466625452)):
        with Locations((-3.2262913883, 40.4002405703)):
            Circle(F22_R)
        with Locations((-2.1561626345, 27.8180986643)):
            Circle(F22_R_2)
        with Locations((-8.8824778795, 32.6976887882)):
            Circle(F22_R_3)
        with Locations((-22.3465077579, 39.1590669751)):
            Circle(F22_R_4)
        with Locations((-18.1392524391, 49.5709590614)):
            Circle(F22_R_5)
        with Locations((-15.6395584345, 15.6808272004)):
            Circle(F22_R_6)
        with Locations((-4.7130216844, 4.9145147204)):
            Circle(F22_R_7)
        with Locations((-21.9584498554, 3.0254796147)):
            Circle(F22_R_8)
    extrude(amount=-F23_DEPTH, mode=Mode.SUBTRACT)

    # F24 (on face) → F25 (cut)
    with BuildSketch(Plane.YZ.offset(18.9466625452)):
        with BuildLine():
            add(Edge.make_bspline(
                [(-25.4, 36.9402728975), (-24.3854230216, 36.3314319699), (-22.2965318819, 35.0779026501), (-22.2658578991, 31.1301388709), (-21.1575912175, 26.5905444144), (-23.9638000112, 24.7904233309), (-25.4, 23.8691344857)],
                knots=[0, 0, 0, 0, 0.2297701488, 0.4730688801, 0.7303202362, 1, 1, 1, 1], degree=3))
            Line((-25.4, 36.9402728975), (-25.4, 23.8691344857))
        make_face()
    extrude(amount=-F25_DEPTH, mode=Mode.SUBTRACT)

    # F26 (on Right) → F27 (cut)
    with BuildSketch(Plane.YZ):
        with Locations((-12.6720517874, 58.0905079842)):
            Circle(F26_R)
    extrude(amount=-F27_DEPTH, mode=Mode.SUBTRACT)

    # F28 (on Right) → F29 (cut)
    with BuildSketch(Plane.YZ):
        with Locations((-13.0914794281, 57.9255223274)):
            Circle(F28_R)
    extrude(amount=F29_DEPTH, mode=Mode.SUBTRACT)


solid = f1.part
